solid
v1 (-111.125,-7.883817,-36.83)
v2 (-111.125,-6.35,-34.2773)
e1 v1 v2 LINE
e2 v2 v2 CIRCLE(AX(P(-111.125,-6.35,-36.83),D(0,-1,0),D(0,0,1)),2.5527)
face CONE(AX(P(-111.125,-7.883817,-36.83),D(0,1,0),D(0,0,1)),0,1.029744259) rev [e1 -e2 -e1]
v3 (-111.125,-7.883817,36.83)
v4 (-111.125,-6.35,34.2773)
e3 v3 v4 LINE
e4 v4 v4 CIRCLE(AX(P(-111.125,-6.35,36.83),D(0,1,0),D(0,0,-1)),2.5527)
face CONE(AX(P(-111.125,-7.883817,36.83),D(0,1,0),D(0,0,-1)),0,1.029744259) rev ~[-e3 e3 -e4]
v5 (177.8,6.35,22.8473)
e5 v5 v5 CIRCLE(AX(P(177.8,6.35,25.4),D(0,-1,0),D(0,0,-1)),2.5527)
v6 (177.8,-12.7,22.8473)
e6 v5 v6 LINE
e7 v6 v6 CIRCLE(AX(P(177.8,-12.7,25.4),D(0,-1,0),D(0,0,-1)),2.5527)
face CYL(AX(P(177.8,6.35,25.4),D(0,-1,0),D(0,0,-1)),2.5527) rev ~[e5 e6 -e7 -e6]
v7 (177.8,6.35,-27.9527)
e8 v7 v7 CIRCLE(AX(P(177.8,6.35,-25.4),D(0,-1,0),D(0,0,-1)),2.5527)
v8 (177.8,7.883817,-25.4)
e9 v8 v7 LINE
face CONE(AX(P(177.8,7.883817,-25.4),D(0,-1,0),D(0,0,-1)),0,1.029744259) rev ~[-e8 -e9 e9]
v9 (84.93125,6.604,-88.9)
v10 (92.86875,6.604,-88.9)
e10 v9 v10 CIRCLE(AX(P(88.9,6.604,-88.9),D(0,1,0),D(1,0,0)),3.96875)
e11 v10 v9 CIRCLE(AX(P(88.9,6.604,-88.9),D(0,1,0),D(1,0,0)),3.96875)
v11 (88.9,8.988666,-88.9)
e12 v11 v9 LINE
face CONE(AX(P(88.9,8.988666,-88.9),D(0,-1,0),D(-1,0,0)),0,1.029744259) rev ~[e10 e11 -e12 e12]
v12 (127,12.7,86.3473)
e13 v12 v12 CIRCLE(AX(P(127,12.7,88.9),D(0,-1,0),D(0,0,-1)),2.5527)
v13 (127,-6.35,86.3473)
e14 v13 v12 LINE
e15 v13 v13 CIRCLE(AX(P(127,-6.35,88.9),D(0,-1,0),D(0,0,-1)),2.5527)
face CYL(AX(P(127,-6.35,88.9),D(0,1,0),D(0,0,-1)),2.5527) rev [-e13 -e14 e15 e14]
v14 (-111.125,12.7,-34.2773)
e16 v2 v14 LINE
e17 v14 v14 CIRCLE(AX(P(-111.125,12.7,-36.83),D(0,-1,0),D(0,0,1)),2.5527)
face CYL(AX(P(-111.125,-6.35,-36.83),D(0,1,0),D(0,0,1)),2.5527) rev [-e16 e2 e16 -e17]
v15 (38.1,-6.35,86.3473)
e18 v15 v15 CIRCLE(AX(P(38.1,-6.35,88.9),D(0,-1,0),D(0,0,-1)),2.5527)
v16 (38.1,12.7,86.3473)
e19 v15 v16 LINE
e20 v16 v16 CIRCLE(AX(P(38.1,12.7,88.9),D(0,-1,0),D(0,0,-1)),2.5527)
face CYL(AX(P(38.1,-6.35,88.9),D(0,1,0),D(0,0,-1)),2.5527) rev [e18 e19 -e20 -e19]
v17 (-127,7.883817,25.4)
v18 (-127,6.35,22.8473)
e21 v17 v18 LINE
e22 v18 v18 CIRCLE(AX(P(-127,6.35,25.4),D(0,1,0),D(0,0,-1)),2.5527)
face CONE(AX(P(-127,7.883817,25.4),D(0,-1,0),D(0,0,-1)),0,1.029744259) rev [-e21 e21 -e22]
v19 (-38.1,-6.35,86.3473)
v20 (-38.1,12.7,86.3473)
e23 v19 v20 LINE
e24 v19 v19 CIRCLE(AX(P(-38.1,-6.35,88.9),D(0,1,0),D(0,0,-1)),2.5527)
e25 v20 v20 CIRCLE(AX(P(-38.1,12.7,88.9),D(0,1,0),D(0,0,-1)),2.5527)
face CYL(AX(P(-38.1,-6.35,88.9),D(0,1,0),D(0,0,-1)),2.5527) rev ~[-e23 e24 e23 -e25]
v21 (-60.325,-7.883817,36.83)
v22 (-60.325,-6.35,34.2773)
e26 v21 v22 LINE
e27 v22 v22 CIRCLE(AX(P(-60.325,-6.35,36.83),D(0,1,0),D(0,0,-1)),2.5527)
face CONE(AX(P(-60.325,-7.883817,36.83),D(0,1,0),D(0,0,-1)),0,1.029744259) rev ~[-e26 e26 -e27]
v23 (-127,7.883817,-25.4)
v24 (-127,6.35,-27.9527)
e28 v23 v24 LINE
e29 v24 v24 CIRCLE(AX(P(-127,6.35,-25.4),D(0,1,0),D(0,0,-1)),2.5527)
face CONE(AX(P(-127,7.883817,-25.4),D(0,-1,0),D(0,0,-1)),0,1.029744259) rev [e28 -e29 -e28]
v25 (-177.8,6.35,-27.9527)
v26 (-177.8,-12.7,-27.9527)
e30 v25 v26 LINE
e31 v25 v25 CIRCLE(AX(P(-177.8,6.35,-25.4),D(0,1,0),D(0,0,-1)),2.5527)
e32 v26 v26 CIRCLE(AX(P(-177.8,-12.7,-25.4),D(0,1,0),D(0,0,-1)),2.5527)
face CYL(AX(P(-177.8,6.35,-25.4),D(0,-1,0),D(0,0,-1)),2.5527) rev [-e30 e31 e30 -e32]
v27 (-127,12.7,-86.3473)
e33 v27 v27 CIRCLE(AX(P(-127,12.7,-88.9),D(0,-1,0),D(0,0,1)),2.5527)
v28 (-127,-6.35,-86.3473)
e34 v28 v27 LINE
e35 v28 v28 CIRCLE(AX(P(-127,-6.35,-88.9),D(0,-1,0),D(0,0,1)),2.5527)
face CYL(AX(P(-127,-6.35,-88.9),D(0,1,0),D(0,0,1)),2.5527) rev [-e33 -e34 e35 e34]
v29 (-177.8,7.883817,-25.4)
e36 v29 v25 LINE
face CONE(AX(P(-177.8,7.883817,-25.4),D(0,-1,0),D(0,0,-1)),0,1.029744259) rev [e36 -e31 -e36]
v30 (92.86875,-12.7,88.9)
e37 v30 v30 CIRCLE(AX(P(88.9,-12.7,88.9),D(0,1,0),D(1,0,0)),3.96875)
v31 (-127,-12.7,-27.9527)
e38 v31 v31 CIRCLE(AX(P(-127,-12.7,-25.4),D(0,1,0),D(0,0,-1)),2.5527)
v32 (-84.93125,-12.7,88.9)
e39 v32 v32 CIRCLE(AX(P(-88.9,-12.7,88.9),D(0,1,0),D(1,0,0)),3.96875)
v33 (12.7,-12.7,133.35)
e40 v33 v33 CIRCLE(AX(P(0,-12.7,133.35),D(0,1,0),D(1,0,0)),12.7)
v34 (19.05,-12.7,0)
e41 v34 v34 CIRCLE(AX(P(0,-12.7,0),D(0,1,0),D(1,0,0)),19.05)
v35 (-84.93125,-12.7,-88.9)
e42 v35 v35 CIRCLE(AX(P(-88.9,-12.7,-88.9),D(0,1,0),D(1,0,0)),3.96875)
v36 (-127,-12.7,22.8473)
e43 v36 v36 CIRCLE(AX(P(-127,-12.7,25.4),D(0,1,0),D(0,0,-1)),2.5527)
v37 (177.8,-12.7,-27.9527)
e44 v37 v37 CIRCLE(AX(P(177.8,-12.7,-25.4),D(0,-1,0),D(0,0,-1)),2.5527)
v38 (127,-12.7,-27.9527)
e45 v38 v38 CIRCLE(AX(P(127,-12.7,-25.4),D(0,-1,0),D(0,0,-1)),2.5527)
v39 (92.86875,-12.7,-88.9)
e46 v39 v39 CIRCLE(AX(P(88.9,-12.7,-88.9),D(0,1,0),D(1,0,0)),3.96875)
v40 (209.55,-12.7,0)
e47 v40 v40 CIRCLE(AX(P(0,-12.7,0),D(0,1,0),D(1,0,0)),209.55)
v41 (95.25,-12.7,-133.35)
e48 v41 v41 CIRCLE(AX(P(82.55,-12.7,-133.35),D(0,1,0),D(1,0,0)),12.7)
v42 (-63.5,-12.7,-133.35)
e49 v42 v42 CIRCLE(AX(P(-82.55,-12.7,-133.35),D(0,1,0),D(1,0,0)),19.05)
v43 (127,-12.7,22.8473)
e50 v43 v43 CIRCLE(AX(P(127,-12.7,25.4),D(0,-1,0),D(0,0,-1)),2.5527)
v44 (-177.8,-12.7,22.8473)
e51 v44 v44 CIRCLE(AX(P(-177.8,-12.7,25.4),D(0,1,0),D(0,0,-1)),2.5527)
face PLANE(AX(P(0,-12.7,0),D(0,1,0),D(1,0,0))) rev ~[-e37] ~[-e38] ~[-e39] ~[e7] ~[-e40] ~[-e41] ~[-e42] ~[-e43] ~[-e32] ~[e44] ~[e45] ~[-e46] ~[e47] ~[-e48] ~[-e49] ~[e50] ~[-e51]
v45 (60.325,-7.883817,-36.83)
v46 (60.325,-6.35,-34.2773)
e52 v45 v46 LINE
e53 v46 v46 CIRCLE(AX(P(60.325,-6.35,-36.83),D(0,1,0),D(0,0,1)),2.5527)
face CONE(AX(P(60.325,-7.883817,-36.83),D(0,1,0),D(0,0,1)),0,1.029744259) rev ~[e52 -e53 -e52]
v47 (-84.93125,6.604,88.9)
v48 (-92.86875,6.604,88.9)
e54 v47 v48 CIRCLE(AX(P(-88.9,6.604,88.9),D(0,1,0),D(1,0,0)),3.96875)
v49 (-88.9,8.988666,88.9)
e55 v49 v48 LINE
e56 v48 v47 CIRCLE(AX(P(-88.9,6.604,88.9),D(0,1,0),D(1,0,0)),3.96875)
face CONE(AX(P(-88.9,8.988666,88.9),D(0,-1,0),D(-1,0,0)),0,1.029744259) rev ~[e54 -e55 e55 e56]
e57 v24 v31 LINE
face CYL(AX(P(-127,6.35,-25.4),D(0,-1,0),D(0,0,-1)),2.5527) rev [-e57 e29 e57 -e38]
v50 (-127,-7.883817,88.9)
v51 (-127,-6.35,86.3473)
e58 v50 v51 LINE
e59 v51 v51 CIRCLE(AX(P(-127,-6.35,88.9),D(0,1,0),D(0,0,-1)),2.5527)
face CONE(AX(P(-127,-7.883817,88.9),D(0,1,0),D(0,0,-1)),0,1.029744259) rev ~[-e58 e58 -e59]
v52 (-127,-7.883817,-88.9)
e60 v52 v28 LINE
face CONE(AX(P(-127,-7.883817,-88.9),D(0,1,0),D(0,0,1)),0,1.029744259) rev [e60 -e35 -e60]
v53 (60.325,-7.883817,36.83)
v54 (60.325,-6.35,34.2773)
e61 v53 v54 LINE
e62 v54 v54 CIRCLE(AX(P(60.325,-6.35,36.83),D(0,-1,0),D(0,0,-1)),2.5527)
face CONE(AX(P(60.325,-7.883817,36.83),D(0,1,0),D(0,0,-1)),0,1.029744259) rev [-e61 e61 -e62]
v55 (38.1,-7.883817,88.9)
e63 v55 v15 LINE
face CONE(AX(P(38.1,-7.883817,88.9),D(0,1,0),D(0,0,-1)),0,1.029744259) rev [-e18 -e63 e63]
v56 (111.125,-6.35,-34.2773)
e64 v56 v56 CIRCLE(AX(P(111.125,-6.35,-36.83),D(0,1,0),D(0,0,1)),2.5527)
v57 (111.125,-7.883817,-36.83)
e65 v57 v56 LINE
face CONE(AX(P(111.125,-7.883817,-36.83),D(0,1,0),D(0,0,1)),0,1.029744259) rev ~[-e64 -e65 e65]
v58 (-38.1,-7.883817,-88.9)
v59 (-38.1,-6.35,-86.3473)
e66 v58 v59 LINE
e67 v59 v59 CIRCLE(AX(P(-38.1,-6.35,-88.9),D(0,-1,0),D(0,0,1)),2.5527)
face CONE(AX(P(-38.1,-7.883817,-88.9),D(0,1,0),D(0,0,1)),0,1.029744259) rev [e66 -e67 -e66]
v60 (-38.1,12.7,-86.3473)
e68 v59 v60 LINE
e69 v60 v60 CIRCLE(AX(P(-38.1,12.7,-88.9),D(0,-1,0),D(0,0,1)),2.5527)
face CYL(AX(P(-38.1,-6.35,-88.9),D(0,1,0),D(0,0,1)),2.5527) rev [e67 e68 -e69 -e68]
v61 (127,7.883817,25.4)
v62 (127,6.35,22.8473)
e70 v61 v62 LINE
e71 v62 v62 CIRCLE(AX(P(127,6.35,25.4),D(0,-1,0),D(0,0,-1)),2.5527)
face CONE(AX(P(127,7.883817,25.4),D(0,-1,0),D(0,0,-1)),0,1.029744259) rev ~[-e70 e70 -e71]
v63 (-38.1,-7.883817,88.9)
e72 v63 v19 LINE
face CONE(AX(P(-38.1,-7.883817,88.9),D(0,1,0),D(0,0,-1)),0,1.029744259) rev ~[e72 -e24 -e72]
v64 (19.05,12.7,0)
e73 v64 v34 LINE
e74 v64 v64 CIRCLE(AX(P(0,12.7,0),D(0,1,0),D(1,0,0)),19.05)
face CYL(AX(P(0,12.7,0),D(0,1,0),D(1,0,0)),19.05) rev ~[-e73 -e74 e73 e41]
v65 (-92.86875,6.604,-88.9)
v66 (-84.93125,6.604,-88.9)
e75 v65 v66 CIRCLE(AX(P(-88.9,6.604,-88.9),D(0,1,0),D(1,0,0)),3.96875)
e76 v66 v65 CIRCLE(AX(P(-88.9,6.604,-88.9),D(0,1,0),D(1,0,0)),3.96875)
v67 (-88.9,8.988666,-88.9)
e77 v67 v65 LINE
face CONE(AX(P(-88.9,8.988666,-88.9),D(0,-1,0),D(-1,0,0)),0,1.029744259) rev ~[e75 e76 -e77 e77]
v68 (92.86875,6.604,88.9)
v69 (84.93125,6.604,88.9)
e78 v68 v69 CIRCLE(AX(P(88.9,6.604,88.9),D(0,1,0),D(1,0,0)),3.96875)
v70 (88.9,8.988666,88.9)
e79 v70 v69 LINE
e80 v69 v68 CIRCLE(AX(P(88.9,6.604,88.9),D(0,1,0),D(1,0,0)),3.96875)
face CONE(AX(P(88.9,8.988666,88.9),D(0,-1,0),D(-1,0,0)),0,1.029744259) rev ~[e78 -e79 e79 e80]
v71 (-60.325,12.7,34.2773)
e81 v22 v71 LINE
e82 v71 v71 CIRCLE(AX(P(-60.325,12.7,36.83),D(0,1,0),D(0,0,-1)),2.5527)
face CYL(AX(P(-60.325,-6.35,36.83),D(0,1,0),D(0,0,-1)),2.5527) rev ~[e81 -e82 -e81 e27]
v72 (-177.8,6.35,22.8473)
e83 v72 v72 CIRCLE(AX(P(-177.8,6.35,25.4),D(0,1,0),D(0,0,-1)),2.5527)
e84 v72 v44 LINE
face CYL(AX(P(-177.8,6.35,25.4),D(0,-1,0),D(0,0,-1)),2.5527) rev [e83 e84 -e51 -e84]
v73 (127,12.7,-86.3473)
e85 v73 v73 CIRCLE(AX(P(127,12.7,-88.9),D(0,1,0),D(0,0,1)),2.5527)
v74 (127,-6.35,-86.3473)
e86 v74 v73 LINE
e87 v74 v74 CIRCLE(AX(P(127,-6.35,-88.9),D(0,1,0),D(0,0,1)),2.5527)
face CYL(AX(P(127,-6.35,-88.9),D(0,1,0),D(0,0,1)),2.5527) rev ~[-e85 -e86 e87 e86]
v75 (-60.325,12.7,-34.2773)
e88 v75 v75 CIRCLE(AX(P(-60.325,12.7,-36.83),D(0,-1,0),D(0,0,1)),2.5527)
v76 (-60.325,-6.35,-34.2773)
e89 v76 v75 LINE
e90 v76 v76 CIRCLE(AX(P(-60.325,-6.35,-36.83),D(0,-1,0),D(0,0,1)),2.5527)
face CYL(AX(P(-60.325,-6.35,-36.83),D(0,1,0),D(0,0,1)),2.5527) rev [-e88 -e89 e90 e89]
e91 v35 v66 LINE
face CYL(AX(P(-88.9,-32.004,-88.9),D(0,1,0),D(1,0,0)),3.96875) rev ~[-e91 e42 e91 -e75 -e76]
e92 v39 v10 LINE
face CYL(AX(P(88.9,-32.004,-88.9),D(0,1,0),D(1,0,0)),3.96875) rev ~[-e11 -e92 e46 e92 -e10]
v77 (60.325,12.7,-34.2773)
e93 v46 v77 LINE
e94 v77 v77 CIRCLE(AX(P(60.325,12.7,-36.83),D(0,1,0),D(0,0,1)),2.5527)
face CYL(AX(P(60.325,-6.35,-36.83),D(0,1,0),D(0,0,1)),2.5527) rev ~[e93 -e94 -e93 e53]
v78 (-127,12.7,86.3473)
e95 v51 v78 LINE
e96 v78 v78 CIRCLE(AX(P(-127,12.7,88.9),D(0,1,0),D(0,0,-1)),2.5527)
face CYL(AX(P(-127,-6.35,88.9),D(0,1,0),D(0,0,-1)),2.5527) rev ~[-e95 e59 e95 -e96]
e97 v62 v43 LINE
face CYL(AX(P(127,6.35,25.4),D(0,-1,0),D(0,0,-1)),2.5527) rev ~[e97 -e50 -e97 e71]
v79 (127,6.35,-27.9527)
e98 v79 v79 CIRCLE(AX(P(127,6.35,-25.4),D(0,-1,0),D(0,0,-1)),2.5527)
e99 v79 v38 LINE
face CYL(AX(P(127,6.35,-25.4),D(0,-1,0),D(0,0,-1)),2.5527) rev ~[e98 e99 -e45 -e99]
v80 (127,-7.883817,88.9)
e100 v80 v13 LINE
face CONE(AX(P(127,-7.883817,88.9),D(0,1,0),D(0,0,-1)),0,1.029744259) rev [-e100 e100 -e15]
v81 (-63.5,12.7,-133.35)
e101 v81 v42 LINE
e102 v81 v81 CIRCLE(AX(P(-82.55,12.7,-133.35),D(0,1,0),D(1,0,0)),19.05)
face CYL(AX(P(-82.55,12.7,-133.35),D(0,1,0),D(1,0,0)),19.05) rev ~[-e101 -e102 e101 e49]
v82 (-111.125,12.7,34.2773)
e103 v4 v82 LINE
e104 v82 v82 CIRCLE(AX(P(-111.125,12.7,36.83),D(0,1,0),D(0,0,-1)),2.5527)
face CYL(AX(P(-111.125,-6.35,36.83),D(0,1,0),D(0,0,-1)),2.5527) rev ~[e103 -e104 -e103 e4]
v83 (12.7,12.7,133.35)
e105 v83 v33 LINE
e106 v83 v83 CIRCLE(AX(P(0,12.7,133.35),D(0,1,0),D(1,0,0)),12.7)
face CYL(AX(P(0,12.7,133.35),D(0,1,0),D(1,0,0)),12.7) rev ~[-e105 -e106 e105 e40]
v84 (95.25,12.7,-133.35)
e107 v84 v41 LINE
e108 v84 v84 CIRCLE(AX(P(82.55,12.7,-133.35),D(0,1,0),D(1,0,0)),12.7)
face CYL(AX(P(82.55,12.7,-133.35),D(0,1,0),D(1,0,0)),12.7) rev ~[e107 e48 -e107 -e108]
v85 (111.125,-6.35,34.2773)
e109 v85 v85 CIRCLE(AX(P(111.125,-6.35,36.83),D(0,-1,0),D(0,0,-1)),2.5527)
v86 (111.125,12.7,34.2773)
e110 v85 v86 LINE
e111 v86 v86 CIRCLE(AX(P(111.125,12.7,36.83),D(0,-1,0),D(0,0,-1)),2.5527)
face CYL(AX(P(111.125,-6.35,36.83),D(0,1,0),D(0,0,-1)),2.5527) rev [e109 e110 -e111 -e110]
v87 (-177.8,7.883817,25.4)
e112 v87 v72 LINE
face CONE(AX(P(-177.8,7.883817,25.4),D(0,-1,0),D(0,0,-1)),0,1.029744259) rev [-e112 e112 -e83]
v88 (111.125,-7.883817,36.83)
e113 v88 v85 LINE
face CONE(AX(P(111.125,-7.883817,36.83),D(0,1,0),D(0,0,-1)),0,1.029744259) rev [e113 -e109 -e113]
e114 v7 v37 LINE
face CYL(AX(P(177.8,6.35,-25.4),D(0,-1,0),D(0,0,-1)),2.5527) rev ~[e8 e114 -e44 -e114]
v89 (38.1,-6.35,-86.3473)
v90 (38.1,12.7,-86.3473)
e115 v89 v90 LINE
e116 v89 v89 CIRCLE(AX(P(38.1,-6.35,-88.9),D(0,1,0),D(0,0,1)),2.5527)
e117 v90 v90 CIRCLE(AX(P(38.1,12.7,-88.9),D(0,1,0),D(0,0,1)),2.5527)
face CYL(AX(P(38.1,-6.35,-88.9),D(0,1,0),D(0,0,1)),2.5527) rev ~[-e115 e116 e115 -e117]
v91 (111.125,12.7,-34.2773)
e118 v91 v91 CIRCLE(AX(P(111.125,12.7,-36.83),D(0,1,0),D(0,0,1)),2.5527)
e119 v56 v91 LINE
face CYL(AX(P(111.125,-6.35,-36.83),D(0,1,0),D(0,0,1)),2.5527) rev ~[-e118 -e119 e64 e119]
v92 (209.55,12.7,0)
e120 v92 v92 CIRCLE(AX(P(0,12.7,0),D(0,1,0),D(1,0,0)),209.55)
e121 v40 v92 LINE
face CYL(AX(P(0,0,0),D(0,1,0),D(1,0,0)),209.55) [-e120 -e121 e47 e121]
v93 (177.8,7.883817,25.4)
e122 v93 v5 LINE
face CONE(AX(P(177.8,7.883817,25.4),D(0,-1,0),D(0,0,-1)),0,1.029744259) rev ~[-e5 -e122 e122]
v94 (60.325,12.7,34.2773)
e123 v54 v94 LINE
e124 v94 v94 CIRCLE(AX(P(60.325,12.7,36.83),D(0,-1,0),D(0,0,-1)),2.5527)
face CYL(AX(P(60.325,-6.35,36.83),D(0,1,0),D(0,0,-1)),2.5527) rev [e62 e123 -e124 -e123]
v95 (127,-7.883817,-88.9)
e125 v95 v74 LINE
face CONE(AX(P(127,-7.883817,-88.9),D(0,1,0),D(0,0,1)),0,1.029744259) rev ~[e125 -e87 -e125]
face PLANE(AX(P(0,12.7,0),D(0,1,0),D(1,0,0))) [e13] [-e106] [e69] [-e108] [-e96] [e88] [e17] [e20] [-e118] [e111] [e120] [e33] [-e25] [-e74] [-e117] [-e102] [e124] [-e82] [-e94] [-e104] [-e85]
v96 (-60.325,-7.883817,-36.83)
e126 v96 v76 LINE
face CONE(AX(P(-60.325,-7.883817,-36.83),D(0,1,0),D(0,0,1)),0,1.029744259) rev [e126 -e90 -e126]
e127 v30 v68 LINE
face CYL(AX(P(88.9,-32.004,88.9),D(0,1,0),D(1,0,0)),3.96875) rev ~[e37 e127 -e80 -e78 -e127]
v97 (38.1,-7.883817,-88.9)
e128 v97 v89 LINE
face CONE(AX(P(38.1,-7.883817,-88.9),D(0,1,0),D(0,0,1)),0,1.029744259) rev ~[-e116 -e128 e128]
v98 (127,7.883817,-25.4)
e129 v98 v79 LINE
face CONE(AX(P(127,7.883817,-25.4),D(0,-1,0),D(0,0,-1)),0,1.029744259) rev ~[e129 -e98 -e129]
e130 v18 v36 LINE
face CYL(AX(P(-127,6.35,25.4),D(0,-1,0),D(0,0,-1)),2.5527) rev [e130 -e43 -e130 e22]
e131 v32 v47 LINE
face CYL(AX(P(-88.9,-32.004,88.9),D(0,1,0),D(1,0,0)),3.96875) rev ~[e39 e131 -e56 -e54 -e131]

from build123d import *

# Parameters (mm, degrees)
SKETCH1_R                        = 209.55
BOSS_EXTRUDE1_DEPTH              = 12.7
F_3_8_16_TAPPED_HOLE1_D          = 7.9375
F_3_8_16_TAPPED_HOLE1_DEPTH      = 19.304
F_3_8_16_TAPPED_HOLE1_TIP        = 2.384665582
CUT_EXTRUDE1_REACH               = 27.4
SKETCH4_R                        = 19.05
CUT_EXTRUDE2_REACH               = 27.4
SKETCH5_R                        = 12.7
CUT_EXTRUDE3_REACH               = 27.4
SKETCH6_R                        = 19.05
F_1_4_20_TAPPED_HOLE1_AT_2_COUNT = 2
F_1_4_20_TAPPED_HOLE1_AT_2_PITCH = 50.8
F_1_4_20_TAPPED_HOLE2_AT_2_COUNT = 2
F_1_4_20_TAPPED_HOLE2_AT_2_PITCH = 88.9
F_1_4_20_TAPPED_HOLE3_AT_2_COUNT = 2
F_1_4_20_TAPPED_HOLE3_AT_2_PITCH = 50.8
F_1_4_20_TAPPED_HOLE3_AT_3_COUNT = 2
F_1_4_20_TAPPED_HOLE3_AT_3_PITCH = 71.842048969
F_1_4_20_TAPPED_HOLE3_AT_4_COUNT = 2
F_1_4_20_TAPPED_HOLE3_AT_4_PITCH = 50.8


with BuildPart() as part:
    # Sketch1 → Boss-Extrude1 (new body, symmetric)
    with BuildSketch(Plane(origin=(0, 0, 0), x_dir=(1, 0, 0), z_dir=(0, 1, 0))):
        Circle(SKETCH1_R)
    extrude(amount=BOSS_EXTRUDE1_DEPTH, both=True)

    # 3/8-16 Tapped Hole1
    with Locations(Plane(origin=(0, -12.7, 0), x_dir=(-1, 0, 0), z_dir=(0, -1, 0))):
        with Locations((88.9, -88.9), (-88.9, -88.9), (-88.9, 88.9), (88.9, 88.9)):
            Hole(F_3_8_16_TAPPED_HOLE1_D / 2, depth=F_3_8_16_TAPPED_HOLE1_DEPTH)
            with Locations((0, 0, -(F_3_8_16_TAPPED_HOLE1_DEPTH + F_3_8_16_TAPPED_HOLE1_TIP / 2))):  # 118° drill point
                Cone(0, F_3_8_16_TAPPED_HOLE1_D / 2, F_3_8_16_TAPPED_HOLE1_TIP, mode=Mode.SUBTRACT)

    # Sketch4 → Cut-Extrude1 (cut, up to next)
    with BuildSketch(Plane(origin=(0, 12.7, 0), x_dir=(1, 0, 0), z_dir=(0, 1, 0)), mode=Mode.PRIVATE) as cut_extrude1_sk1:
        Circle(SKETCH4_R)
    cut_extrude1_tool1 = extrude(cut_extrude1_sk1.sketch, amount=-CUT_EXTRUDE1_REACH, mode=Mode.PRIVATE) & part.part
    add(cut_extrude1_tool1.solids().sort_by_distance((0, 12.7, 0))[0], mode=Mode.SUBTRACT)

    # Sketch5 → Cut-Extrude2 (cut, up to next)
    with BuildSketch(Plane(origin=(0, 12.7, 0), x_dir=(1, 0, 0), z_dir=(0, 1, 0)), mode=Mode.PRIVATE) as cut_extrude2_sk1:
        with Locations((0, -133.35)):
            Circle(SKETCH5_R)
    cut_extrude2_tool1 = extrude(cut_extrude2_sk1.sketch, amount=-CUT_EXTRUDE2_REACH, mode=Mode.PRIVATE) & part.part
    add(cut_extrude2_tool1.solids().sort_by_distance((0, 12.7, 133.35))[0], mode=Mode.SUBTRACT)
    # Sketch5 → Cut-Extrude2 (cut, up to next)
    with BuildSketch(Plane(origin=(0, 12.7, 0), x_dir=(1, 0, 0), z_dir=(0, 1, 0)), mode=Mode.PRIVATE) as cut_extrude2_sk2:
        with Locations((82.55, 133.35)):
            Circle(SKETCH5_R)
    cut_extrude2_tool2 = extrude(cut_extrude2_sk2.sketch, amount=-CUT_EXTRUDE2_REACH, mode=Mode.PRIVATE) & part.part
    add(cut_extrude2_tool2.solids().sort_by_distance((82.55, 12.7, -133.35))[0], mode=Mode.SUBTRACT)

    # Sketch6 → Cut-Extrude3 (cut, up to next)
    with BuildSketch(Plane(origin=(0, 12.7, 0), x_dir=(1, 0, 0), z_dir=(0, 1, 0)), mode=Mode.PRIVATE) as cut_extrude3_sk1:
        with Locations((-82.55, 133.35)):
            Circle(SKETCH6_R)
    cut_extrude3_tool1 = extrude(cut_extrude3_sk1.sketch, amount=-CUT_EXTRUDE3_REACH, mode=Mode.PRIVATE) & part.part
    add(cut_extrude3_tool1.solids().sort_by_distance((-82.55, 12.7, -133.35))[0], mode=Mode.SUBTRACT)

    # Sketch7 → 1/4-20 Tapped Hole1 (revolve, cut)
    with BuildSketch(Plane(origin=(-111.125, 12.7, -36.83), x_dir=(0, 0, 1), z_dir=(1, 0, 0))):
        Polygon((0, 0), (0, 20.583816902), (2.5527, 19.05), (2.5527, 0), align=None)
    f_1_4_20_tapped_hole1 = revolve(axis=Axis((-111.125, 19.05, -36.83), (0, -1, 0)), mode=Mode.SUBTRACT)

    # 1/4-20 Tapped Hole1 at 2: 1/4-20 Tapped Hole1 ×2
    with Locations(*[(i * F_1_4_20_TAPPED_HOLE1_AT_2_PITCH, 0, 0) for i in range(1, F_1_4_20_TAPPED_HOLE1_AT_2_COUNT)]):
        add(f_1_4_20_tapped_hole1, mode=Mode.SUBTRACT)

    # Sketch9 → 1/4-20 Tapped Hole2 (revolve, cut)
    with BuildSketch(Plane(origin=(-38.1, 12.7, -88.9), x_dir=(0, 0, 1), z_dir=(1, 0, 0))):
        Polygon((0, 0), (0, 20.583816902), (2.5527, 19.05), (2.5527, 0), align=None)
    f_1_4_20_tapped_hole2 = revolve(axis=Axis((-38.1, 19.05, -88.9), (0, -1, 0)), mode=Mode.SUBTRACT)

    # 1/4-20 Tapped Hole2 at 2: 1/4-20 Tapped Hole2 ×2
    with Locations(*[(-i * F_1_4_20_TAPPED_HOLE2_AT_2_PITCH, 0, 0) for i in range(1, F_1_4_20_TAPPED_HOLE2_AT_2_COUNT)]):
        add(f_1_4_20_tapped_hole2, mode=Mode.SUBTRACT)

    # Mirror1: 1/4-20 Tapped Hole2, 1/4-20 Tapped Hole1 across plane
    add(f_1_4_20_tapped_hole2.mirror(Plane(origin=(0, 0, 0), x_dir=(0, 0, 1), z_dir=(1, 0, 0))), mode=Mode.SUBTRACT)
    add(f_1_4_20_tapped_hole1.mirror(Plane(origin=(0, 0, 0), x_dir=(0, 0, 1), z_dir=(1, 0, 0))), mode=Mode.SUBTRACT)

    # Mirror1 copy 1 sketch → Mirror1 copy 1 (revolve, cut)
    with BuildSketch(Plane(origin=(127, 12.7, -88.9), x_dir=(0, 0, 1), z_dir=(-1, 0, 0))):
        Polygon((0, 0), (0, -20.583816902), (2.5527, -19.05), (2.5527, 0), align=None)
    revolve(axis=Axis((127, 19.05, -88.9), (0, 1, 0)), mode=Mode.SUBTRACT)

    # Mirror1 copy 2 sketch → Mirror1 copy 2 (revolve, cut)
    with BuildSketch(Plane(origin=(60.325, 12.7, -36.83), x_dir=(0, 0, 1), z_dir=(-1, 0, 0))):
        Polygon((0, 0), (0, -20.583816902), (2.5527, -19.05), (2.5527, 0), align=None)
    revolve(axis=Axis((60.325, 19.05, -36.83), (0, 1, 0)), mode=Mode.SUBTRACT)

    # Mirror2: 1/4-20 Tapped Hole2, 1/4-20 Tapped Hole1 across plane
    add(f_1_4_20_tapped_hole2.mirror(Plane.XY), mode=Mode.SUBTRACT)
    add(f_1_4_20_tapped_hole1.mirror(Plane.XY), mode=Mode.SUBTRACT)

    # Mirror2 copy 1 sketch → Mirror2 copy 1 (revolve, cut)
    with BuildSketch(Plane(origin=(38.1, 12.7, 88.9), x_dir=(0, 0, -1), z_dir=(-1, 0, 0))):
        Polygon((0, 0), (0, 20.583816902), (2.5527, 19.05), (2.5527, 0), align=None)
    revolve(axis=Axis((38.1, 19.05, 88.9), (0, -1, 0)), mode=Mode.SUBTRACT)

    # Mirror2 copy 2 sketch → Mirror2 copy 2 (revolve, cut)
    with BuildSketch(Plane(origin=(111.125, 12.7, 36.83), x_dir=(0, 0, -1), z_dir=(-1, 0, 0))):
        Polygon((0, 0), (0, 20.583816902), (2.5527, 19.05), (2.5527, 0), align=None)
    revolve(axis=Axis((111.125, 19.05, 36.83), (0, -1, 0)), mode=Mode.SUBTRACT)

    # Mirror2 copy 3 sketch → Mirror2 copy 3 (revolve, cut)
    with BuildSketch(Plane(origin=(127, 12.7, 88.9), x_dir=(0, 0, -1), z_dir=(-1, 0, 0))):
        Polygon((0, 0), (0, 20.583816902), (2.5527, 19.05), (2.5527, 0), align=None)
    revolve(axis=Axis((127, 19.05, 88.9), (0, -1, 0)), mode=Mode.SUBTRACT)

    # Mirror2 copy 4 sketch → Mirror2 copy 4 (revolve, cut)
    with BuildSketch(Plane(origin=(60.325, 12.7, 36.83), x_dir=(0, 0, -1), z_dir=(-1, 0, 0))):
        Polygon((0, 0), (0, 20.583816902), (2.5527, 19.05), (2.5527, 0), align=None)
    revolve(axis=Axis((60.325, 19.05, 36.83), (0, -1, 0)), mode=Mode.SUBTRACT)

    # Mirror2 copy 5 sketch → Mirror2 copy 5 (revolve, cut)
    with BuildSketch(Plane(origin=(-127, 12.7, 88.9), x_dir=(0, 0, -1), z_dir=(1, 0, 0))):
        Polygon((0, 0), (0, -20.583816902), (2.5527, -19.05), (2.5527, 0), align=None)
    revolve(axis=Axis((-127, 19.05, 88.9), (0, 1, 0)), mode=Mode.SUBTRACT)

    # Mirror2 copy 6 sketch → Mirror2 copy 6 (revolve, cut)
    with BuildSketch(Plane(origin=(-60.325, 12.7, 36.83), x_dir=(0, 0, -1), z_dir=(1, 0, 0))):
        Polygon((0, 0), (0, -20.583816902), (2.5527, -19.05), (2.5527, 0), align=None)
    revolve(axis=Axis((-60.325, 19.05, 36.83), (0, 1, 0)), mode=Mode.SUBTRACT)

    # Sketch12 → 1/4-20 Tapped Hole3 (revolve, cut)
    with BuildSketch(Plane(origin=(-177.8, -12.7, 25.4), x_dir=(0, 0, -1), z_dir=(1, 0, 0))):
        Polygon((0, 0), (0, 20.583816902), (2.5527, 19.05), (2.5527, 0), align=None)
    f_1_4_20_tapped_hole3 = revolve(axis=Axis((-177.8, -19.05, 25.4), (0, 1, 0)), mode=Mode.SUBTRACT)

    # 1/4-20 Tapped Hole3 at 2: 1/4-20 Tapped Hole3 ×2
    with Locations(*[(i * F_1_4_20_TAPPED_HOLE3_AT_2_PITCH, 0, 0) for i in range(1, F_1_4_20_TAPPED_HOLE3_AT_2_COUNT)]):
        add(f_1_4_20_tapped_hole3, mode=Mode.SUBTRACT)

    # 1/4-20 Tapped Hole3 at 3: 1/4-20 Tapped Hole3 ×2
    with Locations(*[Vector(0.707106781, 0, -0.707106781) * (i * F_1_4_20_TAPPED_HOLE3_AT_3_PITCH) for i in range(1, F_1_4_20_TAPPED_HOLE3_AT_3_COUNT)]):
        add(f_1_4_20_tapped_hole3, mode=Mode.SUBTRACT)

    # 1/4-20 Tapped Hole3 at 4: 1/4-20 Tapped Hole3 ×2
    with Locations(*[(0, 0, -i * F_1_4_20_TAPPED_HOLE3_AT_4_PITCH) for i in range(1, F_1_4_20_TAPPED_HOLE3_AT_4_COUNT)]):
        add(f_1_4_20_tapped_hole3, mode=Mode.SUBTRACT)

    # Mirror3: 1/4-20 Tapped Hole3 across plane
    add(f_1_4_20_tapped_hole3.mirror(Plane(origin=(0, 0, 0), x_dir=(0, 0, 1), z_dir=(1, 0, 0))), mode=Mode.SUBTRACT)

    # Mirror3 copy 1 sketch → Mirror3 copy 1 (revolve, cut)
    with BuildSketch(Plane(origin=(127, -12.7, 25.4), x_dir=(0, 0, -1), z_dir=(-1, 0, 0))):
        Polygon((0, 0), (0, -20.583816902), (2.5527, -19.05), (2.5527, 0), align=None)
    revolve(axis=Axis((127, -19.05, 25.4), (0, -1, 0)), mode=Mode.SUBTRACT)

    # Mirror3 copy 2 sketch → Mirror3 copy 2 (revolve, cut)
    with BuildSketch(Plane(origin=(127, -12.7, -25.4), x_dir=(0, 0, -1), z_dir=(-1, 0, 0))):
        Polygon((0, 0), (0, -20.583816902), (2.5527, -19.05), (2.5527, 0), align=None)
    revolve(axis=Axis((127, -19.05, -25.4), (0, -1, 0)), mode=Mode.SUBTRACT)

    # Mirror3 copy 3 sketch → Mirror3 copy 3 (revolve, cut)
    with BuildSketch(Plane(origin=(177.8, -12.7, -25.4), x_dir=(0, 0, -1), z_dir=(-1, 0, 0))):
        Polygon((0, 0), (0, -20.583816902), (2.5527, -19.05), (2.5527, 0), align=None)
    revolve(axis=Axis((177.8, -19.05, -25.4), (0, -1, 0)), mode=Mode.SUBTRACT)


solid = part.part
